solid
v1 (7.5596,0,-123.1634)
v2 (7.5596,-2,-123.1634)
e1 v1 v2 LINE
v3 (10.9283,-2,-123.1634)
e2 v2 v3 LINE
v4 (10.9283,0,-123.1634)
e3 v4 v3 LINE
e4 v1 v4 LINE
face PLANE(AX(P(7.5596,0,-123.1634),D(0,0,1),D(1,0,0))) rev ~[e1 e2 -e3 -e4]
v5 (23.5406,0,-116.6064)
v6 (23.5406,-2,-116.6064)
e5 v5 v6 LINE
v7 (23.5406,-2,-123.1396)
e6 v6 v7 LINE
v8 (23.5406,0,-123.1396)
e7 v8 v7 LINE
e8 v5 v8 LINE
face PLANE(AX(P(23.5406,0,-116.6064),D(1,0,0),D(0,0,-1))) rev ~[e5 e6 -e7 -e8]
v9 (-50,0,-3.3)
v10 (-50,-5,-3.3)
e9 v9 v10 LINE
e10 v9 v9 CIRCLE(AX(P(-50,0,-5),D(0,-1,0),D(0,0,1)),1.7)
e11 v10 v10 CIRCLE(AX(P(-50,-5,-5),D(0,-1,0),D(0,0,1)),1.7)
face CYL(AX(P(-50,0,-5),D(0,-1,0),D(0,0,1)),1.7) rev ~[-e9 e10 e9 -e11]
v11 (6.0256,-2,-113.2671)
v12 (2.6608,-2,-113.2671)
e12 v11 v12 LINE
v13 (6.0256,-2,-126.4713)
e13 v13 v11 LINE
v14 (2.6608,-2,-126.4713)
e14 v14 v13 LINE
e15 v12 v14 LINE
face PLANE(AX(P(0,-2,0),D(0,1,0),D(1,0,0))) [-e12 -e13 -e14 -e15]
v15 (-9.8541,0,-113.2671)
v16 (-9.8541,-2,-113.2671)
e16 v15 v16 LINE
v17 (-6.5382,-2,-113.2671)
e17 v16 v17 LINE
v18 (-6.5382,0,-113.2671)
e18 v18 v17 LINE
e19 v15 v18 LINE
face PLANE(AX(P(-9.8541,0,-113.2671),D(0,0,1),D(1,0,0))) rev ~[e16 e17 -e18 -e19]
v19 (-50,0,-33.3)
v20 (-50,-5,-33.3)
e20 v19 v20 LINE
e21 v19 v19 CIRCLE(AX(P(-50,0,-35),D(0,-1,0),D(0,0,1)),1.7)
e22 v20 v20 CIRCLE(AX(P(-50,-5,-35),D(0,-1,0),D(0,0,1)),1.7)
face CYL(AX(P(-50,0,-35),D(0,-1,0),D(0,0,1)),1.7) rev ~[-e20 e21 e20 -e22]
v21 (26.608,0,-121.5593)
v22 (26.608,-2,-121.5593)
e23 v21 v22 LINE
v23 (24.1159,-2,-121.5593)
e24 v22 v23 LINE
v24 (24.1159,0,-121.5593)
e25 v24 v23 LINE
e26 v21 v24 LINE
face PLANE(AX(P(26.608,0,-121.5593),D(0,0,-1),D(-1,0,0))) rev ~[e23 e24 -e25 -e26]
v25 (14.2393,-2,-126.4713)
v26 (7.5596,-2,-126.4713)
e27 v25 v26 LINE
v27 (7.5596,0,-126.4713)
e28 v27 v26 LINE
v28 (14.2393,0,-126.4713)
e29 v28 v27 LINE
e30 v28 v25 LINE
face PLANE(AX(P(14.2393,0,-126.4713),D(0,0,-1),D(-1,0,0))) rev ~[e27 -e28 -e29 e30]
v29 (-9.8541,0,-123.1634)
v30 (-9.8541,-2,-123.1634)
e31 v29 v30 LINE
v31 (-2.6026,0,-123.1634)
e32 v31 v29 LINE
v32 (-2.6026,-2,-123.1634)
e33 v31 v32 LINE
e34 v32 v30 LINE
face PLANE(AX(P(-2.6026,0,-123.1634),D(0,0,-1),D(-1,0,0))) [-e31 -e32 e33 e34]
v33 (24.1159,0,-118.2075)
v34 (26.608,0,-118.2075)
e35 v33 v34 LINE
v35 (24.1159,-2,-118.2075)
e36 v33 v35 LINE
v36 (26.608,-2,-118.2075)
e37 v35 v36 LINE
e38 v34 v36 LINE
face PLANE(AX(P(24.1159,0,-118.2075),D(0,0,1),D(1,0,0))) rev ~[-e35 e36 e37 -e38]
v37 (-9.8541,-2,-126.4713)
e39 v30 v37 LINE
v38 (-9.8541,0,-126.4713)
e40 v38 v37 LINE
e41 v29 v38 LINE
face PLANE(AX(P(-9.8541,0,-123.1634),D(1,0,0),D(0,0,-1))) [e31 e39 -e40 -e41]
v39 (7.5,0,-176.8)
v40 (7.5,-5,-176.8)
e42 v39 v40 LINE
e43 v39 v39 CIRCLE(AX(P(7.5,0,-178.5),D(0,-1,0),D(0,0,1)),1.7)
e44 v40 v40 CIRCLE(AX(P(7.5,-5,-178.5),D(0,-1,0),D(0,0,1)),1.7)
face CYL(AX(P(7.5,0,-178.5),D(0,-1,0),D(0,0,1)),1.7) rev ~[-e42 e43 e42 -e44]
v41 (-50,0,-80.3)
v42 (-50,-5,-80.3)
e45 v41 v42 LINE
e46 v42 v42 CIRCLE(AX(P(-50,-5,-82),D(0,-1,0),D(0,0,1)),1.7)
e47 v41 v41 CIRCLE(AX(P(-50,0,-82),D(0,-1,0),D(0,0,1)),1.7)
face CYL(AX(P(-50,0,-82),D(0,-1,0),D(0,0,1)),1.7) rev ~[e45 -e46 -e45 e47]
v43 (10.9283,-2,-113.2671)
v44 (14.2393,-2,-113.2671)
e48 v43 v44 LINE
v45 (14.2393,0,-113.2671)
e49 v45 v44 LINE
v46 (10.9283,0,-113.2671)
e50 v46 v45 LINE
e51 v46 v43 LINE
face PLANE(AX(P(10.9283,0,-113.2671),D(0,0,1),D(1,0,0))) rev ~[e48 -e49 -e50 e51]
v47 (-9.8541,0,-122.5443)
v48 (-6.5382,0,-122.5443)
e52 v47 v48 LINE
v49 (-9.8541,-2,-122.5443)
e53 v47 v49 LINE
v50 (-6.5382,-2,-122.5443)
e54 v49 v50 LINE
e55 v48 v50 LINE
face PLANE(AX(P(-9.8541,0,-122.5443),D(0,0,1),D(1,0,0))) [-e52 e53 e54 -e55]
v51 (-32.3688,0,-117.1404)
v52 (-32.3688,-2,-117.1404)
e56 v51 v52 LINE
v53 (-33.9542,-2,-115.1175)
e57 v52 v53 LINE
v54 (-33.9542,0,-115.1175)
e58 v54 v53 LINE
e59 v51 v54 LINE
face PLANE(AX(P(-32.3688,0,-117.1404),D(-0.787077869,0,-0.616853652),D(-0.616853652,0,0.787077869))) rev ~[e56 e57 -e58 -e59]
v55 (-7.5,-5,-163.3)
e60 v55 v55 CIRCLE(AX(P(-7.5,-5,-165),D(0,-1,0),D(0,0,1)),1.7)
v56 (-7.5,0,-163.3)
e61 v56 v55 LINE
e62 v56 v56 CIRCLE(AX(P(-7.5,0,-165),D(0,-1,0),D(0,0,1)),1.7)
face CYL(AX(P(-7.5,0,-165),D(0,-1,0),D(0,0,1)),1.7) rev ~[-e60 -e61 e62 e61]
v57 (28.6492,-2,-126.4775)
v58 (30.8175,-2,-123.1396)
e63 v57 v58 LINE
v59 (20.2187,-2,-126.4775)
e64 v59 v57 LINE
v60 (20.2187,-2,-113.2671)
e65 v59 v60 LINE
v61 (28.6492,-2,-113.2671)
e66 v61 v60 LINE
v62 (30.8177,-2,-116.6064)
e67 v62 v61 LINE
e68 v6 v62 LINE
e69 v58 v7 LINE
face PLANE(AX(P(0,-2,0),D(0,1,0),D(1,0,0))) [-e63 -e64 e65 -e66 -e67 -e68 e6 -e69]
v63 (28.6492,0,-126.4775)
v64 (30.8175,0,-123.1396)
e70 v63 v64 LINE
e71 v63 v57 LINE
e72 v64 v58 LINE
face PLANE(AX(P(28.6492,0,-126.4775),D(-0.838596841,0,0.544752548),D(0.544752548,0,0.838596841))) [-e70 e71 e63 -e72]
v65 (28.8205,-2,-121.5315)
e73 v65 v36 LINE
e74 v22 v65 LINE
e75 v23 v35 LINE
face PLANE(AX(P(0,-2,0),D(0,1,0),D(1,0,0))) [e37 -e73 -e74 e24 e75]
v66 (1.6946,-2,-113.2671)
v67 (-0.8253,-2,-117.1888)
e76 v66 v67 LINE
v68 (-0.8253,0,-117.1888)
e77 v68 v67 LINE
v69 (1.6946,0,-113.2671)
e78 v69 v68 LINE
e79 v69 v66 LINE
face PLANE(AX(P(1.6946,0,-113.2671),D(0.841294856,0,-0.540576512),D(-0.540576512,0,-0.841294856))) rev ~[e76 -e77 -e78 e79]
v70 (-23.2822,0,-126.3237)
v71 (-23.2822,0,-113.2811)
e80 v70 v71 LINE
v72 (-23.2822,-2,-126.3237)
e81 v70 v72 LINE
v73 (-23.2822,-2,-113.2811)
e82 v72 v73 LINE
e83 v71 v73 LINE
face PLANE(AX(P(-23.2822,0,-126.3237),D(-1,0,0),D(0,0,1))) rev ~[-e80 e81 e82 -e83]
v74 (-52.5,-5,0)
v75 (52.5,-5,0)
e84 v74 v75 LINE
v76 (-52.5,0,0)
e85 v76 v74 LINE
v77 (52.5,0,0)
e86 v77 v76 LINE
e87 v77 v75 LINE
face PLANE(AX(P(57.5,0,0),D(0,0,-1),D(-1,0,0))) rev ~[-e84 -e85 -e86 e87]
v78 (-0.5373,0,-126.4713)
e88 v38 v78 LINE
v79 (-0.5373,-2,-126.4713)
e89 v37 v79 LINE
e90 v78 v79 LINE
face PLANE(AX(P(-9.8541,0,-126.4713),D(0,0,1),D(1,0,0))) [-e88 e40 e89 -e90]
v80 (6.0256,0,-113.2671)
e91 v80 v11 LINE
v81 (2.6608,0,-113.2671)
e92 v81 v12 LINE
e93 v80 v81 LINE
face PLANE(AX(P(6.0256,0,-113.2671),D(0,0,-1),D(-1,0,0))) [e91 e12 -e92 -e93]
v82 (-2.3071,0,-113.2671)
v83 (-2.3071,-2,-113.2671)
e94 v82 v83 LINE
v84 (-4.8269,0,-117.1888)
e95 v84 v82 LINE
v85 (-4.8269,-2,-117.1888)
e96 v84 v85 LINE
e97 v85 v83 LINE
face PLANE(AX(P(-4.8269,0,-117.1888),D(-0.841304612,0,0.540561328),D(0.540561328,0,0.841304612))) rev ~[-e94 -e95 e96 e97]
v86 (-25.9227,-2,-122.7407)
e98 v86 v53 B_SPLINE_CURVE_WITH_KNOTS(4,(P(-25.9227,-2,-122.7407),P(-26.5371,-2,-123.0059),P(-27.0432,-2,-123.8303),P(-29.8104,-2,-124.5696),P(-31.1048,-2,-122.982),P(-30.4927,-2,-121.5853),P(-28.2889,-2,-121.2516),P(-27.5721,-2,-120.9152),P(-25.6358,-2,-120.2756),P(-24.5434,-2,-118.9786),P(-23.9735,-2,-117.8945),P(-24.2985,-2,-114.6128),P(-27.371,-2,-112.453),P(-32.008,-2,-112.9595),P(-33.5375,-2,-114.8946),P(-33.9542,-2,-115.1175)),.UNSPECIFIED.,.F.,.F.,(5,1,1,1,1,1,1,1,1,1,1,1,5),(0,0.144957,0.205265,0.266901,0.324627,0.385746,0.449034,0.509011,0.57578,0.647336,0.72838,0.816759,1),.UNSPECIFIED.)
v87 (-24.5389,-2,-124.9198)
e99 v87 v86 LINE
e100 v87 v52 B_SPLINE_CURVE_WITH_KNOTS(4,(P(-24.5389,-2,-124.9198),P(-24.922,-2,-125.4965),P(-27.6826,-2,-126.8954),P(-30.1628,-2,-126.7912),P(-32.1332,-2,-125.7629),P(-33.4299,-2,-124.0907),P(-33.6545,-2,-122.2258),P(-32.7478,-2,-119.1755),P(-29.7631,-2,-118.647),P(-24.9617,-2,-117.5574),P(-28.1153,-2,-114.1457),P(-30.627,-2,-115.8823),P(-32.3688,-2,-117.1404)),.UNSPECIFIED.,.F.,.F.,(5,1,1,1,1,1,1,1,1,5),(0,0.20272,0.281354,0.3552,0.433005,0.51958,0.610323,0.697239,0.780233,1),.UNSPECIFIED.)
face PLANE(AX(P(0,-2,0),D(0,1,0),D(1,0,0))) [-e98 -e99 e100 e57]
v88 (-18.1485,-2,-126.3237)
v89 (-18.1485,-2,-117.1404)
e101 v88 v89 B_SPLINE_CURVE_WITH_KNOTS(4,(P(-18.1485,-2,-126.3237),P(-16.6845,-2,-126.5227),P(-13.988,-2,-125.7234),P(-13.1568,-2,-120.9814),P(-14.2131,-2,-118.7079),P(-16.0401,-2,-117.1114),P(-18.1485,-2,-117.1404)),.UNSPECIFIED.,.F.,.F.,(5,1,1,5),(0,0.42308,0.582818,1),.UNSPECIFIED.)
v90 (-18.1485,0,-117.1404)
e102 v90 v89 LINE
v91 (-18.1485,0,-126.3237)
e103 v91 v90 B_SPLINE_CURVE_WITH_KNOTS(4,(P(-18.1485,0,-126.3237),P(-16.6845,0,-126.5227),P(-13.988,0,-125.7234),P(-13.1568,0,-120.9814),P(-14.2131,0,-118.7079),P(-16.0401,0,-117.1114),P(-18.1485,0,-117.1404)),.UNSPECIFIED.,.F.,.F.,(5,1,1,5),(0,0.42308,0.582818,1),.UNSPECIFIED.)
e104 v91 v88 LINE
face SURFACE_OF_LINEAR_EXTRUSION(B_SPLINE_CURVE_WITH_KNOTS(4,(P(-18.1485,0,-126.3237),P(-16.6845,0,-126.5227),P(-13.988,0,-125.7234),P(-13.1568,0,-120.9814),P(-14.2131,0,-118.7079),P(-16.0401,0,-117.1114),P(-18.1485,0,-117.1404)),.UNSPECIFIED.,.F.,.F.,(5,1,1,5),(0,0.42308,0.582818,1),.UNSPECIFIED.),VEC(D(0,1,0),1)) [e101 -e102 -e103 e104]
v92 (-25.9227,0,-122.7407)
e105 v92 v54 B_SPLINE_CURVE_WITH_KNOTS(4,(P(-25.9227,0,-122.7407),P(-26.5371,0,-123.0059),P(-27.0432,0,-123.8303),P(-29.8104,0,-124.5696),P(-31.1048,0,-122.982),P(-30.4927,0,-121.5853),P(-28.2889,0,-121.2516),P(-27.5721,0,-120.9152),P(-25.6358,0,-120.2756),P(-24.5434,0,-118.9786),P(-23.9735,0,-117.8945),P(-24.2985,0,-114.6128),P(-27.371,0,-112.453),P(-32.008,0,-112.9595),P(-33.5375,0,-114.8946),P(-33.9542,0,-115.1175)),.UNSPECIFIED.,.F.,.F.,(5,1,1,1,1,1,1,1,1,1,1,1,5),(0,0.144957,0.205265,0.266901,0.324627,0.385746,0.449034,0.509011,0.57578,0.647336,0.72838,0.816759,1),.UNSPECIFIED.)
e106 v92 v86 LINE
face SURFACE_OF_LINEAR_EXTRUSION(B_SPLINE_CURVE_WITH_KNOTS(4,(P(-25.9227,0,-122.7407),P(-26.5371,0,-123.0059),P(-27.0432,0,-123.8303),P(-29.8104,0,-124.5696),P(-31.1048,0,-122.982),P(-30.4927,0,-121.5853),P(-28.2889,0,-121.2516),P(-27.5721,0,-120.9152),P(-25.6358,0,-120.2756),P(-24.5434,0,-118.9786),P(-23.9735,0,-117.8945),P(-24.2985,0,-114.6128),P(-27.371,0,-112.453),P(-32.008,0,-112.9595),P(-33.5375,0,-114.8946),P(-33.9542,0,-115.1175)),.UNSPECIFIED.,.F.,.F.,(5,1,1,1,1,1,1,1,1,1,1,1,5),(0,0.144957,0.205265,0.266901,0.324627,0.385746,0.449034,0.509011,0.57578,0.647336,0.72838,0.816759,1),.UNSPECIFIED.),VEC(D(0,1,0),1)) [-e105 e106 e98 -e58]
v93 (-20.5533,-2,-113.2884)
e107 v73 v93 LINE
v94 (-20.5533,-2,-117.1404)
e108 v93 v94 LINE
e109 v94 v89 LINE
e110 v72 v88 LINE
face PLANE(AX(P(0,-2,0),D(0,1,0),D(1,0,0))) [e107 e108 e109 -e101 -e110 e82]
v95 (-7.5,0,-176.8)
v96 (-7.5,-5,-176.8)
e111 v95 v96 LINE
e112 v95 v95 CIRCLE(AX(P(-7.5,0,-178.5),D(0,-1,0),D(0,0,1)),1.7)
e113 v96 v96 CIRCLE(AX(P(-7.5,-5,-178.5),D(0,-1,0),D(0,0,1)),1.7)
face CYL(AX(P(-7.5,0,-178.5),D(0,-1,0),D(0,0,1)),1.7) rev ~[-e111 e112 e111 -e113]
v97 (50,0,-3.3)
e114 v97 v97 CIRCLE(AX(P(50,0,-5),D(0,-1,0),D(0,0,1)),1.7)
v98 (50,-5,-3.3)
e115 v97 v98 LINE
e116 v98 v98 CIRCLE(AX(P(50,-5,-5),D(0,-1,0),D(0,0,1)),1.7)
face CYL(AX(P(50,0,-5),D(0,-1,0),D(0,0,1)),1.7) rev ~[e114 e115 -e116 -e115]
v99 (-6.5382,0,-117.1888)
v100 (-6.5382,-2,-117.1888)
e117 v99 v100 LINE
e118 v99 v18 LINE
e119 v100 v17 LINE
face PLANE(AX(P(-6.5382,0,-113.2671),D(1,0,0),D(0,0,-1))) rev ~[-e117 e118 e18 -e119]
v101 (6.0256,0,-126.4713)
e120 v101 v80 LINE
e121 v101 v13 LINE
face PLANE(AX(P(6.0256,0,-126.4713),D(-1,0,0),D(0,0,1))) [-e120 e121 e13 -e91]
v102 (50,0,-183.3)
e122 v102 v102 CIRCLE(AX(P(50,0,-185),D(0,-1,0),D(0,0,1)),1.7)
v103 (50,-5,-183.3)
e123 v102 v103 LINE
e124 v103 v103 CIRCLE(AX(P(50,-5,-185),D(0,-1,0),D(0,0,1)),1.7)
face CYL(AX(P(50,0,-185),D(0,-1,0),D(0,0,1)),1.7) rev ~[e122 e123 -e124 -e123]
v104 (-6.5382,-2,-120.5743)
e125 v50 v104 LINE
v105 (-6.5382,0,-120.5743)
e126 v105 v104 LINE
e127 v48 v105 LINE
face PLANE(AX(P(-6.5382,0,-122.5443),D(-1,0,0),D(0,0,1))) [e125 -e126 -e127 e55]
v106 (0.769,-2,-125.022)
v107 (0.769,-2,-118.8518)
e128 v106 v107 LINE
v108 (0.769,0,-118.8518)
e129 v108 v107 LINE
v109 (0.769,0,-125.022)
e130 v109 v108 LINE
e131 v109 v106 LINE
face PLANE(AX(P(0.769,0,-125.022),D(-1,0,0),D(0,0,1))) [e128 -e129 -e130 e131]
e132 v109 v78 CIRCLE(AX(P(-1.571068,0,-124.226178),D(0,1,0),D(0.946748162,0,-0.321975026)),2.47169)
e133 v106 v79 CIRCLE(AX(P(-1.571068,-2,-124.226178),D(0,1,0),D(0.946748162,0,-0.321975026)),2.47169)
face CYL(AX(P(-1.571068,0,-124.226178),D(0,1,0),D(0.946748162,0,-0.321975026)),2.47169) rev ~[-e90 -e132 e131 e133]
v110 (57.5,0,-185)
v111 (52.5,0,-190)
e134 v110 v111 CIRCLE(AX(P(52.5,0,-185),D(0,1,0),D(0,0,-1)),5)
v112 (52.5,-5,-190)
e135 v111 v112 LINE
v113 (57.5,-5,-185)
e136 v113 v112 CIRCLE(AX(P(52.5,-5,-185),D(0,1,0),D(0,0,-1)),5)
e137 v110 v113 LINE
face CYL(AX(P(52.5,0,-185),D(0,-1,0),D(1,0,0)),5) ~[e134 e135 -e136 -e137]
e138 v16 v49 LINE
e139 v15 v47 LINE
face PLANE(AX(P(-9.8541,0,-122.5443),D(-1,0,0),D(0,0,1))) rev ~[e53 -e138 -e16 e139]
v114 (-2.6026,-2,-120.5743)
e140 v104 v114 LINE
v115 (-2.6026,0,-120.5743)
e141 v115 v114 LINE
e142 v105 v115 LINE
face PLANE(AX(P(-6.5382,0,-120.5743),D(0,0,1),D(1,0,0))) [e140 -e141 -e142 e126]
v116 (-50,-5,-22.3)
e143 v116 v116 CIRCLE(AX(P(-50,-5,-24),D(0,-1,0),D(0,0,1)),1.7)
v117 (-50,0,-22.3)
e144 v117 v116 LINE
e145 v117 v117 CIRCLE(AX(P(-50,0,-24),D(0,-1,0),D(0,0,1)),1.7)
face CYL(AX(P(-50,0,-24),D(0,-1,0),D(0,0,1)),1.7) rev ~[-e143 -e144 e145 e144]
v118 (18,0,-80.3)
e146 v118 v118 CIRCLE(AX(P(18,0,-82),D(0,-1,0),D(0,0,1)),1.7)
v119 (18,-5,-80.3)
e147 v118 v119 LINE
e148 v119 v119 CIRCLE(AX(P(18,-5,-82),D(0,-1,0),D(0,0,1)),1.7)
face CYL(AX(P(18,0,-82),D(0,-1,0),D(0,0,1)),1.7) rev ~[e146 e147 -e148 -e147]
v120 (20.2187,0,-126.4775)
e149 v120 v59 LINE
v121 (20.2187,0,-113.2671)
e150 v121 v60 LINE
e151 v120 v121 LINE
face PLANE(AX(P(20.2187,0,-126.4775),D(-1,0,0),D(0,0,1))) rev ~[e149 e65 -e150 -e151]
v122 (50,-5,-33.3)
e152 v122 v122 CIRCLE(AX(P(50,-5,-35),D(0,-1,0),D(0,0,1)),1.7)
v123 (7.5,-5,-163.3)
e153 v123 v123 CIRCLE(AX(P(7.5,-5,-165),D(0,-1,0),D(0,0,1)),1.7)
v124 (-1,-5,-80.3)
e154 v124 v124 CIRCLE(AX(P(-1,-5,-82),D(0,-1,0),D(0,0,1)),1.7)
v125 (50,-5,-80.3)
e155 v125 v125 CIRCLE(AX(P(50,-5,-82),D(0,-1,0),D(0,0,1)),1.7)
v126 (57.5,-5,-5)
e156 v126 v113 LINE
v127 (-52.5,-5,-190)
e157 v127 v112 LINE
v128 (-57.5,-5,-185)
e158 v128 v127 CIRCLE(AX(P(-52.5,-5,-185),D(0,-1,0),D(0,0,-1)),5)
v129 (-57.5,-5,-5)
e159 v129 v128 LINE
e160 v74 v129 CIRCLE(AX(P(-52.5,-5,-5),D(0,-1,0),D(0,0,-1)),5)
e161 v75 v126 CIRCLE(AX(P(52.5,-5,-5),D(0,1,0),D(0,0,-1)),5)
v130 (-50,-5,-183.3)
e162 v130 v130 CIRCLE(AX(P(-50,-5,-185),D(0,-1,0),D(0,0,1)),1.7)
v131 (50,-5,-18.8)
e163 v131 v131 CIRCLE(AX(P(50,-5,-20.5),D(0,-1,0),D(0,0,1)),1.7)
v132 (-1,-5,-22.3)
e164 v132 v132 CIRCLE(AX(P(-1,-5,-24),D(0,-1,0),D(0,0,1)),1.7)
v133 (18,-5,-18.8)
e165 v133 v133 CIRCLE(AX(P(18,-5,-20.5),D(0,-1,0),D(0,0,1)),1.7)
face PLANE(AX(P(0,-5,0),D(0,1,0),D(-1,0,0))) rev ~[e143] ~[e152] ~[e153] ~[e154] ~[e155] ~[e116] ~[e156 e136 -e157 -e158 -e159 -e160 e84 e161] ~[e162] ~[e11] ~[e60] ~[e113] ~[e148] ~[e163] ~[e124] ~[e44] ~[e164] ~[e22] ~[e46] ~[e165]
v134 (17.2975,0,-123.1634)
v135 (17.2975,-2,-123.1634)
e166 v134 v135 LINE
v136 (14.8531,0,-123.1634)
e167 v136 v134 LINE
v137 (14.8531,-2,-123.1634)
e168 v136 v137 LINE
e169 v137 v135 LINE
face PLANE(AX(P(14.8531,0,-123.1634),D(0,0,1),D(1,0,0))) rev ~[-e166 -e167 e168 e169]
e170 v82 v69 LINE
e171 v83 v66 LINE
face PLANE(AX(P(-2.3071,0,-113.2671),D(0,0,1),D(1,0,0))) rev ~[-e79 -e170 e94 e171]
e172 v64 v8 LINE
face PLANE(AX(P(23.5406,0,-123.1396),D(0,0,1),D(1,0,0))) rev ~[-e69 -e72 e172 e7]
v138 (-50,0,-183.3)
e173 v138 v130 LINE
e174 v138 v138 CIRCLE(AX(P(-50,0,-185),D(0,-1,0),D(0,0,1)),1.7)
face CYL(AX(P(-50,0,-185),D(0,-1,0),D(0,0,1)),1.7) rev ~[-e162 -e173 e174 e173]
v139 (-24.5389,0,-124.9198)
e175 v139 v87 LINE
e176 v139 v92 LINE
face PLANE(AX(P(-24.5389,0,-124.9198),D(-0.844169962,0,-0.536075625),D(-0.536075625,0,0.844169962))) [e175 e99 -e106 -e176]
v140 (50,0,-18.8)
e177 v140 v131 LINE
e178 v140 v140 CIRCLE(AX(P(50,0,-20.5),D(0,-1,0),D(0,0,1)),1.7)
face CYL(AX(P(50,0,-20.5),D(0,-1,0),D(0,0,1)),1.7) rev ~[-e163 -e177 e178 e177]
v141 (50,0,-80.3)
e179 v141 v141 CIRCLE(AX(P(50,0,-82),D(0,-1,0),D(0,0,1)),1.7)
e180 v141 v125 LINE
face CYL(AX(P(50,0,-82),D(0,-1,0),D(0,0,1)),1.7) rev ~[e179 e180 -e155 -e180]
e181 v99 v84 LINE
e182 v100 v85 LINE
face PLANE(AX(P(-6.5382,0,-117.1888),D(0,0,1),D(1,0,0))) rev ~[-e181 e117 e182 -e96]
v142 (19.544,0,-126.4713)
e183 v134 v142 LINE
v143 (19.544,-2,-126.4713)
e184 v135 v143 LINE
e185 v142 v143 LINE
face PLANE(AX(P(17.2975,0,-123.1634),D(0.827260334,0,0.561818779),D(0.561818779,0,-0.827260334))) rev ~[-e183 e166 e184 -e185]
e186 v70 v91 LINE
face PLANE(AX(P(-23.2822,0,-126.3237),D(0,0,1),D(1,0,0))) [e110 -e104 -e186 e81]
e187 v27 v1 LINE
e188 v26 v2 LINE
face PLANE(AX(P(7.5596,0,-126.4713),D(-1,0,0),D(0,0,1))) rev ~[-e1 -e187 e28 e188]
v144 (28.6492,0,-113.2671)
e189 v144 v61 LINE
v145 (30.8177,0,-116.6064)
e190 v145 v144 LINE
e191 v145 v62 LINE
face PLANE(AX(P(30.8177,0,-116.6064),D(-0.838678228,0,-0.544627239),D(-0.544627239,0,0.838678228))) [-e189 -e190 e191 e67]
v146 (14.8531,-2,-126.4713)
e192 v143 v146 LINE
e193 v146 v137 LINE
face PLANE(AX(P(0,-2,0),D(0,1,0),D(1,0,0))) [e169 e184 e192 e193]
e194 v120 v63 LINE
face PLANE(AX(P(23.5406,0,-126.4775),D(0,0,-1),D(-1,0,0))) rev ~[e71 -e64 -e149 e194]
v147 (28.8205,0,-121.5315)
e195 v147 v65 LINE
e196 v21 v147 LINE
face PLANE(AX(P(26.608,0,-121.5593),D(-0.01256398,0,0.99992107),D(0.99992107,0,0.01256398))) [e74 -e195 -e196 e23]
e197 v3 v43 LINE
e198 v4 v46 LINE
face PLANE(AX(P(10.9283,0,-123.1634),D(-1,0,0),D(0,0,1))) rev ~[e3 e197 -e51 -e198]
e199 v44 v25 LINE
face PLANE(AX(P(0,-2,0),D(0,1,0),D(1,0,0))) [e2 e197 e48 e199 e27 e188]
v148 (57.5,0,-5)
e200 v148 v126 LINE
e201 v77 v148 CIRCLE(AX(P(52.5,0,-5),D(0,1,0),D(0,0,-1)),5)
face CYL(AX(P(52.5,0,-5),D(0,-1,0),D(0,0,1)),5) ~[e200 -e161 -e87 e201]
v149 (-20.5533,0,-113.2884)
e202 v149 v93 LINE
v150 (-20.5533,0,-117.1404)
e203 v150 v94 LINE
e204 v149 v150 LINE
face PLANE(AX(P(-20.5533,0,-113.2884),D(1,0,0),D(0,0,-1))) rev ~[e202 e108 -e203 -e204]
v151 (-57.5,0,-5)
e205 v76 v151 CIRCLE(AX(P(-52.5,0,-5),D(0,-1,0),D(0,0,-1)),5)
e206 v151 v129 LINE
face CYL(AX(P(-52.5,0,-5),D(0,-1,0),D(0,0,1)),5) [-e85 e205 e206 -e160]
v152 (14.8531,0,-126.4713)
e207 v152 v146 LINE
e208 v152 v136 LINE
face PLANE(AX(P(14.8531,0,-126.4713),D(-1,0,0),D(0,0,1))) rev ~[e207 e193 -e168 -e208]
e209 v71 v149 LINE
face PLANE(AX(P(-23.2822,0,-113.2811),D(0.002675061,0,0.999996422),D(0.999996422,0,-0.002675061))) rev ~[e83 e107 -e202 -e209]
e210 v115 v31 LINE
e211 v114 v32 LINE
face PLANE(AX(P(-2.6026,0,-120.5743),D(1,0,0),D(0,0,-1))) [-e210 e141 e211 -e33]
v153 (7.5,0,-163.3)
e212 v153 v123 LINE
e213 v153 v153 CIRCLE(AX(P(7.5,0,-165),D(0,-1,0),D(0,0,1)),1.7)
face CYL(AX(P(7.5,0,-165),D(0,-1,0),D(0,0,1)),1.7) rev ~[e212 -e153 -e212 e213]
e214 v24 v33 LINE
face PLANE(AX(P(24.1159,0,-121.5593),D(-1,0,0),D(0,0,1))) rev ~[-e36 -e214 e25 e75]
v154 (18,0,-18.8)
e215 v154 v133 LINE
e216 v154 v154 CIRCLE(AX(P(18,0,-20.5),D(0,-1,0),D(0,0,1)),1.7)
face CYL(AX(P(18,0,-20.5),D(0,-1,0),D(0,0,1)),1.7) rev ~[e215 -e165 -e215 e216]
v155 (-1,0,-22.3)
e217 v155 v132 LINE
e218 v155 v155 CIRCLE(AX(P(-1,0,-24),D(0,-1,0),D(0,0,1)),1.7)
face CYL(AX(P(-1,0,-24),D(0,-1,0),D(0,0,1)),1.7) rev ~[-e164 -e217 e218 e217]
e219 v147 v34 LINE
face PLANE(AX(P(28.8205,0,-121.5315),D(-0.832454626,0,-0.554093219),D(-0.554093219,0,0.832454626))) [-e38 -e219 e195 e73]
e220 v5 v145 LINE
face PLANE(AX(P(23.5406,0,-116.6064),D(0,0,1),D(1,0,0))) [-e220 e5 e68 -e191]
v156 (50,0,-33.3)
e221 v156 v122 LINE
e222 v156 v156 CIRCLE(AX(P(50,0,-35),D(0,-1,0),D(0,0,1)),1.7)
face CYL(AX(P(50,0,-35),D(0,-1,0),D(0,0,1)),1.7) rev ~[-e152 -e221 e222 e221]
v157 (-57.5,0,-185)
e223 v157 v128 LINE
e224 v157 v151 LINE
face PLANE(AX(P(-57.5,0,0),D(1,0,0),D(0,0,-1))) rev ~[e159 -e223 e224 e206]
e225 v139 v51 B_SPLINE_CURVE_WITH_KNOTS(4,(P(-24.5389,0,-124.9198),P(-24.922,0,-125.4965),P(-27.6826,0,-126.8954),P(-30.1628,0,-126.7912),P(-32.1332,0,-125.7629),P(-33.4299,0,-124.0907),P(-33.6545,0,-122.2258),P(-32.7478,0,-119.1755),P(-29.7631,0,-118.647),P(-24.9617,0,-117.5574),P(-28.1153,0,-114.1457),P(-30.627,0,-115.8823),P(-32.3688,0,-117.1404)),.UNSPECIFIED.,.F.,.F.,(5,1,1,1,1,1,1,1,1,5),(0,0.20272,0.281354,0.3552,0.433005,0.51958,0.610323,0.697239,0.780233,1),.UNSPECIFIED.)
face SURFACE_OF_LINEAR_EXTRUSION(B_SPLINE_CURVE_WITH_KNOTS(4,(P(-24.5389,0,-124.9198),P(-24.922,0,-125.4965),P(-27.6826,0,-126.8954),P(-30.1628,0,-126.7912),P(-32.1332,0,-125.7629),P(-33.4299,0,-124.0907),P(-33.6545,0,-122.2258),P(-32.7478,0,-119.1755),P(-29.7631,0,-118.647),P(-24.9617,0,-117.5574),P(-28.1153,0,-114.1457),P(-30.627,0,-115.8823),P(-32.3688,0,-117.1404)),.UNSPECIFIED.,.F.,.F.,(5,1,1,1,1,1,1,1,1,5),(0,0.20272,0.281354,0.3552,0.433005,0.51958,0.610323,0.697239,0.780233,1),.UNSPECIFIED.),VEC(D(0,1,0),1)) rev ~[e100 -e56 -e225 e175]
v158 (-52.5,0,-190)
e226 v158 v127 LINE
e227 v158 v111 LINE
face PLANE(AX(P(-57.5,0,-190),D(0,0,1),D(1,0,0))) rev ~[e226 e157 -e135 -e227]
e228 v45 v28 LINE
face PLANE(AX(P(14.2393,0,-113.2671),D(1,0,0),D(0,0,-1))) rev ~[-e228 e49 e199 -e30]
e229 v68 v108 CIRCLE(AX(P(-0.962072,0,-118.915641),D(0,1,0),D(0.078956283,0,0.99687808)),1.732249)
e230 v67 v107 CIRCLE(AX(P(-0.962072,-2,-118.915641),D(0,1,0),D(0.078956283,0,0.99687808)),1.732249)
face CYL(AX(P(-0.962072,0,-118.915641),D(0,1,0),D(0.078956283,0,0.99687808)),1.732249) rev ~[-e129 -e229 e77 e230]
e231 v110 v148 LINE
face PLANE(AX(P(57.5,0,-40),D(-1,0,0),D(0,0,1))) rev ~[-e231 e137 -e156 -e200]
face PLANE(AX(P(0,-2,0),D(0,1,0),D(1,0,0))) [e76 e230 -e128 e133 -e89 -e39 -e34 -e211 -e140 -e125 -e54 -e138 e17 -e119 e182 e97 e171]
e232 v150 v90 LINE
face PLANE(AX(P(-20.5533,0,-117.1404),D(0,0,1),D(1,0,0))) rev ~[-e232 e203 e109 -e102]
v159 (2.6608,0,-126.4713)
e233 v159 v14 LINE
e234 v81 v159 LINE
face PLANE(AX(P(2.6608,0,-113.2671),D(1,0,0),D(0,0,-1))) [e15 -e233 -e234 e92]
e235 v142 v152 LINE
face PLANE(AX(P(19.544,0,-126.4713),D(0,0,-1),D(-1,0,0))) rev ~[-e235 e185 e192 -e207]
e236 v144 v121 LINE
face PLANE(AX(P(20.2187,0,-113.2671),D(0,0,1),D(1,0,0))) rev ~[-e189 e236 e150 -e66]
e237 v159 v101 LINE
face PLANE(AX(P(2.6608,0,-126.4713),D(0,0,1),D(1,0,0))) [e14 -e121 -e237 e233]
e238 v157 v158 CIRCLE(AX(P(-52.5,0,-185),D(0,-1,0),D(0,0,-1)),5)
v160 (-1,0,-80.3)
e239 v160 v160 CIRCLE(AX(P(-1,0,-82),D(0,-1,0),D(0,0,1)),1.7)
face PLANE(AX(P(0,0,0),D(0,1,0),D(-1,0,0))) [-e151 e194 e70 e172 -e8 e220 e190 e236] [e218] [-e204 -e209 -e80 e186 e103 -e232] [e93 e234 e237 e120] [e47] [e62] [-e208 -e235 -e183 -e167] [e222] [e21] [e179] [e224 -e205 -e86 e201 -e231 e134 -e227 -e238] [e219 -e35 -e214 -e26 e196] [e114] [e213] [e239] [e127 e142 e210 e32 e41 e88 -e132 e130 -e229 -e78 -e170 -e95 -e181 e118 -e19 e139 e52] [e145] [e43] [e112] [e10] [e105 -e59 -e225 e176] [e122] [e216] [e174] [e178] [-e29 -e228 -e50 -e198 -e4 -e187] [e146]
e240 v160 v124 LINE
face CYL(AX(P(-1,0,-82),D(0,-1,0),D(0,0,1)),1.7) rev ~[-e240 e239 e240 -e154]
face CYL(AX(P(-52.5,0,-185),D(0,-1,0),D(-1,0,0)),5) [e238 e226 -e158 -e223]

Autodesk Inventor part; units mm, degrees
ref_plane "YZ Plane" through (0, 0, 0) normal (1, 0, 0) x (0, 1, 0)
ref_plane "XZ Plane" through (0, 0, 0) normal (0, 1, 0) x (-1, 0, 0)
ref_plane "XY Plane" through (0, 0, 0) normal (0, 0, 1) x (1, 0, 0)
sketch "Sketch1" plane through (0, 0, 0) normal (0, 1, 0) x (-1, 0, 0)
  line L0 (57.5, -190) -> (57.5, -190) construction
  line L1 (-57.5, -190) -> (-57.5, 0) construction
  line L2 (-57.5, 0) -> (57.5, 0)
  line L3 (57.5, 0) -> (57.5, -190) construction
  line L4 (80.5, 0) -> (-80.5, 0) construction
  line L5 (0, -228) -> (0, 38) construction
  line L6 (57.5, -190) -> (-57.5, -190)
  line L7 (-57.5, -190) -> (-57.5, -190) construction
  line L8 (57.5, 0) -> (-55.1767, 0)
  line L9 (57.5, -40) -> (-57.5, -40) construction
  line L10 (-57.5, -40) -> (-57.5, 0)
  line L11 (-57.5, 0) -> (57.5, 0)
  line L12 (57.5, 0) -> (57.5, -40)
  line L13 (-57.5, -190) -> (-57.5, -40)
  line L14 (57.5, -190) -> (57.5, -40)
  point P0 (0, 0)
  dimension "width" = 115
  dimension "Length" = 190
  dimension "d2" = 115
  dimension "d112" = 40
extrude "Base" add sketch "Sketch1" against normal blind 5
sketch "Sketch11" plane through (0, 0, 0) normal (0, 1, 0) x (1, 0, 0)
  line L0 (0, 228) -> (0, -38) construction
  line L1 (-57.5, 0) -> (57.5, 0) construction
  line L2 (57.5, 190) -> (-57.5, 190) projected
  line L3 (-50, 5) -> (50, 5) construction
  line L4 (50, 5) -> (50, 35) construction
  line L5 (50, 35) -> (-50, 35) construction
  line L6 (-50, 35) -> (-50, 5) construction
  point P0 (0, 0)
  point P1 (50, 185)
  point P2 (-50, 185)
  dimension "d91" = 5
  dimension "d92" = 50
  dimension "d93" = 5
  dimension "d94" = 50
  dimension "d113" = 30
hole "Mounting Holes" at (50, 0, -5) at (-50, 0, -5) at (50, 0, -185) at (-50, 0, -185) at (-50, 0, -35) at (50, 0, -35) direction (0, -1, 0) diameter 3.4 depth 6
fillet "Fillet1" radius 5 4 edges at (-57.5, -2.5, 0) (57.5, -2.5, -190) (-57.5, -2.5, -190) (57.5, -2.5, 0)
sketch "Sketch12" plane through (0, 0, 0) normal (0, 1, 0) x (1, 0, 0)
  line L0 (-50, 82) -> (-1, 82) construction
  line L1 (-1, 82) -> (-1, 24) construction
  line L2 (-1, 24) -> (-50, 24) construction
  line L3 (-50, 24) -> (-50, 82) construction
  line L4 (-57.5, 185) -> (-57.5, 5) projected
  line L5 (0, 228) -> (0, -38) projected
  line L6 (-52.5, 0) -> (52.5, 0) projected
  circle A0 centre (-50, 35) radius 1.7 projected
  point P0 (0, 0)
  point P1 (0, 0)
  point P2 (52.2987, 0)
  point P3 (-57.5, 40)
  point P4 (0, 0)
  dimension "d103" = 49
  dimension "d104" = 58
  dimension "d239" = 24
hole "RasPi Mounting Holes" at (-50, 0, -82) at (-1, 0, -82) at (-1, 0, -24) at (-50, 0, -24) direction (0, -1, 0) diameter 3.4 depth 6
sketch "Sketch15" plane through (0, 0, 0) normal (0, 1, 0) x (1, 0, 0)
  line L0 (50, 82) -> (50, 20.5) construction
  line L1 (50, 20.5) -> (18, 20.5) construction
  line L2 (18, 20.5) -> (18, 82) construction
  line L3 (18, 82) -> (50, 82) construction
  line L4 (-52.5, 0) -> (52.5, 0) projected
  circle A0 centre (-1, 82) radius 1.7 projected
  circle A1 centre (50, 35) radius 1.7 projected
  point P0 (0, 0)
  point P1 (0, 0)
  dimension "d122" = 32
  dimension "d123" = 61.5
hole "LM2596 Mounting Holes" at (50, 0, -82) at (50, 0, -20.5) at (18, 0, -20.5) at (18, 0, -82) direction (0, -1, 0) diameter 3.4 depth 6
sketch "Sketch16" plane through (0, 0, 0) normal (0, 1, 0) x (1, 0, 0)
  line L0 (-7.5, 165) -> (7.5, 165) construction
  line L1 (7.5, 165) -> (7.5, 178.5) construction
  line L2 (7.5, 178.5) -> (-7.5, 178.5) construction
  line L3 (-7.5, 178.5) -> (-7.5, 165) construction
  line L4 (52.5, 190) -> (-52.5, 190) projected
  point P0 (0, 0)
  point P1 (0, 178.5)
  point P2 (0, 190)
  dimension "d132" = 15
  dimension "d133" = 13.5
  dimension "d251" = 11.5
hole "Camera Mount Mounting Holes" at (-7.5, 0, -178.5) at (-7.5, 0, -165) at (7.5, 0, -165) at (7.5, 0, -178.5) direction (0, -1, 0) diameter 3.4 depth 6
sketch "Sketch17" plane through (0, 0, 0) normal (0, 1, 0) x (1, 0, 0)
  line L0 (-57.1973, 19.3379) -> (-57.1973, 79.4802) construction
  line L1 (-57.1973, 79.4802) -> (-14.6793, 79.4802) construction
  line L2 (-14.6793, 79.4802) -> (-14.6793, 19.3379) construction
  line L3 (-14.6793, 19.3379) -> (-57.1973, 19.3379) construction
  circle A0 centre (-50, 24) radius 1.7 projected
  circle A1 centre (-50, 82) radius 1.7 projected
  line L4 (-52.5, 0) -> (52.5, 0) projected
  spline S0 degree 4 poles (-24.5389, 124.9198) (-24.922, 125.4965) (-27.6826, 126.8954) (-30.1628, 126.7912) (-32.1332, 125.7629) (-33.4299, 124.0907) (-33.6545, 122.2258) (-32.7478, 119.1755) (-29.7631, 118.647) (-24.9617, 117.5574) (-28.1153, 114.1457) (-30.627, 115.8823) (-32.3688, 117.1404) knots 0 0 0 0 0 0.20272 0.281354 0.3552 0.433005 0.51958 0.610323 0.697239 0.780233 1 1 1 1 1
  line L5 (-32.3688, 117.1404) -> (-33.9542, 115.1175)
  line L6 (-24.5389, 124.9198) -> (-25.9227, 122.7407)
  spline S1 degree 4 poles (-25.9227, 122.7407) (-26.5371, 123.0059) (-27.0432, 123.8303) (-29.8104, 124.5696) (-31.1048, 122.982) (-30.4927, 121.5853) (-28.2889, 121.2516) (-27.5721, 120.9152) (-25.6358, 120.2756) (-24.5434, 118.9786) (-23.9735, 117.8945) (-24.2985, 114.6128) (-27.371, 112.453) (-32.008, 112.9595) (-33.5375, 114.8946) (-33.9542, 115.1175) knots 0 0 0 0 0 0.144957 0.205265 0.266901 0.324627 0.385746 0.449034 0.509011 0.57578 0.647336 0.72838 0.816759 1 1 1 1 1
  line L7 (-23.2822, 126.3237) -> (-23.2822, 113.2811)
  line L8 (-23.2822, 113.2811) -> (-20.5533, 113.2884)
  line L9 (-20.5533, 113.2884) -> (-20.5533, 117.1404)
  line L10 (-20.5436, 123.784) -> (-20.5436, 119.7226)
  line L11 (-20.5436, 119.7226) -> (-18.2264, 119.7226)
  line L12 (-20.5436, 123.784) -> (-18.2264, 123.784)
  line L13 (-23.2822, 126.3237) -> (-18.1485, 126.3237)
  line L14 (-20.5533, 117.1404) -> (-18.1485, 117.1404)
  spline S2 degree 4 poles (-18.1485, 126.3237) (-16.6845, 126.5227) (-13.988, 125.7234) (-13.1568, 120.9814) (-14.2131, 118.7079) (-16.0401, 117.1114) (-18.1485, 117.1404) knots 0 0 0 0 0 0.42308 0.582818 1 1 1 1 1
  spline S3 degree 4 poles (-18.2264, 123.784) (-16.7633, 123.9916) (-15.1954, 121.9939) (-16.394, 119.8116) (-18.2264, 119.7226) knots 0 0 0 0 0 1 1 1 1 1
  line L15 (-9.8541, 122.5443) -> (-9.8541, 113.2671)
  line L16 (-9.8541, 113.2671) -> (-6.5382, 113.2671)
  line L17 (-6.5382, 113.2671) -> (-6.5382, 113.4426)
  line L18 (-6.5382, 113.4426) -> (-6.5382, 117.1888)
  line L19 (-6.5382, 117.1888) -> (-4.8269, 117.1888)
  line L20 (-4.8269, 117.1888) -> (-2.3071, 113.2671)
  line L21 (-2.3071, 113.2671) -> (1.6946, 113.2671)
  line L22 (1.6946, 113.2671) -> (-0.8253, 117.1888)
  line L23 (-9.8541, 122.5443) -> (-6.5382, 122.5443)
  line L24 (-6.5382, 122.5443) -> (-6.5382, 120.5743)
  line L25 (-6.5382, 120.5743) -> (-2.6026, 120.5743)
  line L26 (-2.6026, 120.5743) -> (-2.6026, 123.1634)
  line L27 (-2.6026, 123.1634) -> (-9.8541, 123.1634)
  line L28 (-9.8541, 123.1634) -> (-9.8541, 126.4713)
  line L29 (-9.8541, 126.4713) -> (-0.5373, 126.4713)
  line L30 (0.769, 125.022) -> (0.769, 118.8518)
  arc A2 (-0.8253, 117.1888) -> (0.769, 118.8518) centre (-0.9621, 118.9157) ccw
  arc A3 (0.769, 125.022) -> (-0.5373, 126.4713) centre (-1.5712, 124.2261) ccw
  line L31 (2.6608, 126.4713) -> (6.0256, 126.4713)
  line L32 (6.0256, 126.4713) -> (6.0256, 113.2671)
  line L33 (6.0256, 113.2671) -> (2.6608, 113.2671)
  line L34 (2.6608, 113.2671) -> (2.6608, 126.4713)
  line L35 (7.5596, 126.4713) -> (7.5596, 123.1634)
  line L36 (7.5596, 123.1634) -> (10.9283, 123.1634)
  line L37 (10.9283, 123.1634) -> (10.9283, 113.2671)
  line L38 (10.9283, 113.2671) -> (14.2393, 113.2671)
  line L39 (14.2393, 113.2671) -> (14.2393, 126.4713)
  line L40 (14.2393, 126.4713) -> (7.5596, 126.4713)
  line L41 (14.8531, 126.4713) -> (14.8531, 123.1634)
  line L42 (14.8531, 123.1634) -> (17.2975, 123.1634)
  line L43 (17.2975, 123.1634) -> (19.544, 126.4713)
  line L44 (19.544, 126.4713) -> (14.8531, 126.4713)
  line L45 (20.2187, 126.4775) -> (20.2187, 113.2671)
  line L46 (20.2187, 113.2671) -> (23.5406, 113.2671)
  line L47 (23.5406, 113.2671) -> (23.5406, 126.4775)
  line L48 (23.5406, 126.4775) -> (20.2187, 126.4775)
  line L49 (24.1159, 121.5593) -> (24.1159, 118.2075)
  line L50 (24.1159, 118.2075) -> (26.608, 118.2075)
  line L51 (26.608, 118.2075) -> (26.608, 121.5593)
  line L52 (26.608, 121.5593) -> (24.1159, 121.5593)
  line L53 (23.5406, 126.4775) -> (23.5406, 123.1396)
  line L54 (23.5406, 123.1396) -> (28.6492, 123.1396)
  line L55 (28.6492, 123.1396) -> (28.6492, 126.4775)
  line L56 (28.6492, 126.4775) -> (23.5406, 126.4775)
  line L57 (28.6492, 126.4775) -> (30.8175, 123.1396)
  line L58 (30.8175, 123.1396) -> (28.6492, 123.1396)
  line L59 (26.608, 121.5593) -> (28.8205, 121.5315)
  line L60 (28.8205, 121.5315) -> (26.608, 118.2075)
  line L61 (23.5406, 116.6064) -> (30.8177, 116.6064)
  line L62 (30.8177, 116.6064) -> (28.6492, 113.2671)
  line L63 (28.6492, 113.2671) -> (23.5406, 113.2671)
  line L64 (-20.5533, 113.2884) -> (-7.3915, 113.2884)
  line L65 (-57.5, 185) -> (-57.5, 5) projected
  line L66 (57.5, 5) -> (57.5, 185) projected
  line L67 (57.5, 185) -> (57.5, 5) projected
  point P0 (0, 0)
  point P1 (-35.9383, 19.3379)
  point P2 (0, 0)
  point P3 (-26.0743, 125.9223)
  point P4 (-28.9193, 126.6257)
  point P5 (-32.067, 125.6116)
  point P6 (-33.4554, 122.3675)
  point P7 (-29.2911, 118.5075)
  point P8 (-26.9401, 117.3059)
  point P9 (-27.1681, 116.1283)
  point P10 (-28.939, 115.4933)
  point P11 (-32.4456, 119.8309)
  point P12 (-33.1379, 124.2152)
  point P13 (-30.7742, 126.3572)
  point P14 (-26.7112, 123.2461)
  point P15 (-28.1768, 123.919)
  point P16 (-30.0893, 123.8265)
  point P17 (-30.7803, 122.924)
  point P18 (-30.2965, 121.8845)
  point P19 (-28.5195, 121.2364)
  point P20 (-27.4225, 120.886)
  point P21 (-25.8005, 120.143)
  point P22 (-24.69, 119.0688)
  point P23 (-24.2101, 117.9282)
  point P24 (-24.53, 115.3475)
  point P25 (-26.7119, 113.3702)
  point P26 (-30.6972, 113.2718)
  point P27 (-33.2613, 114.5685)
  point P28 (-15.6674, 125.8448)
  point P29 (-14.0095, 123.9105)
  point P30 (-13.6514, 121.4185)
  point P31 (-14.0618, 119.634)
  point P32 (-15.2337, 118.127)
  point P33 (-16.9529, 123.3565)
  point P34 (-16.2765, 122.0378)
  point P35 (-16.6728, 120.5472)
  point P36 (0, 106.588)
extrude "SP RITE" cut sketch "Sketch17" against normal blind 2 contours L6 S1 L5 S0 | L13 S2 L14 L9 L8 L7 | L15 L23 L24 L25 L26 L27 L28 L29 A3 L30 A2 L22 L21 L20 L19 L18 L17 L16 | L12 S3 L11 L10 | L31 L32 L33 L34 | L40 L39 L38 L37 L36 L35 | L44 L43 L42 L41 | L48 L47 L46 L45 | L56 L55 L54 L47 | L47 L61 L62 L63 | L57 L58 L55 | L52 L51 L50 L49 | L59 L60 L51
equation "\"d2\" = width"
equation "\"d93\" = d91"
equation "\"d94\" = d92"
equation "\"d95\" = HoleDia"
equation "\"d105\" = HoleDia"
equation "\"d125\" = HoleDia"
equation "\"d135\" = HoleDia"
equation "\"HoleDia\" = 3.4"
properties part number "top plate"
